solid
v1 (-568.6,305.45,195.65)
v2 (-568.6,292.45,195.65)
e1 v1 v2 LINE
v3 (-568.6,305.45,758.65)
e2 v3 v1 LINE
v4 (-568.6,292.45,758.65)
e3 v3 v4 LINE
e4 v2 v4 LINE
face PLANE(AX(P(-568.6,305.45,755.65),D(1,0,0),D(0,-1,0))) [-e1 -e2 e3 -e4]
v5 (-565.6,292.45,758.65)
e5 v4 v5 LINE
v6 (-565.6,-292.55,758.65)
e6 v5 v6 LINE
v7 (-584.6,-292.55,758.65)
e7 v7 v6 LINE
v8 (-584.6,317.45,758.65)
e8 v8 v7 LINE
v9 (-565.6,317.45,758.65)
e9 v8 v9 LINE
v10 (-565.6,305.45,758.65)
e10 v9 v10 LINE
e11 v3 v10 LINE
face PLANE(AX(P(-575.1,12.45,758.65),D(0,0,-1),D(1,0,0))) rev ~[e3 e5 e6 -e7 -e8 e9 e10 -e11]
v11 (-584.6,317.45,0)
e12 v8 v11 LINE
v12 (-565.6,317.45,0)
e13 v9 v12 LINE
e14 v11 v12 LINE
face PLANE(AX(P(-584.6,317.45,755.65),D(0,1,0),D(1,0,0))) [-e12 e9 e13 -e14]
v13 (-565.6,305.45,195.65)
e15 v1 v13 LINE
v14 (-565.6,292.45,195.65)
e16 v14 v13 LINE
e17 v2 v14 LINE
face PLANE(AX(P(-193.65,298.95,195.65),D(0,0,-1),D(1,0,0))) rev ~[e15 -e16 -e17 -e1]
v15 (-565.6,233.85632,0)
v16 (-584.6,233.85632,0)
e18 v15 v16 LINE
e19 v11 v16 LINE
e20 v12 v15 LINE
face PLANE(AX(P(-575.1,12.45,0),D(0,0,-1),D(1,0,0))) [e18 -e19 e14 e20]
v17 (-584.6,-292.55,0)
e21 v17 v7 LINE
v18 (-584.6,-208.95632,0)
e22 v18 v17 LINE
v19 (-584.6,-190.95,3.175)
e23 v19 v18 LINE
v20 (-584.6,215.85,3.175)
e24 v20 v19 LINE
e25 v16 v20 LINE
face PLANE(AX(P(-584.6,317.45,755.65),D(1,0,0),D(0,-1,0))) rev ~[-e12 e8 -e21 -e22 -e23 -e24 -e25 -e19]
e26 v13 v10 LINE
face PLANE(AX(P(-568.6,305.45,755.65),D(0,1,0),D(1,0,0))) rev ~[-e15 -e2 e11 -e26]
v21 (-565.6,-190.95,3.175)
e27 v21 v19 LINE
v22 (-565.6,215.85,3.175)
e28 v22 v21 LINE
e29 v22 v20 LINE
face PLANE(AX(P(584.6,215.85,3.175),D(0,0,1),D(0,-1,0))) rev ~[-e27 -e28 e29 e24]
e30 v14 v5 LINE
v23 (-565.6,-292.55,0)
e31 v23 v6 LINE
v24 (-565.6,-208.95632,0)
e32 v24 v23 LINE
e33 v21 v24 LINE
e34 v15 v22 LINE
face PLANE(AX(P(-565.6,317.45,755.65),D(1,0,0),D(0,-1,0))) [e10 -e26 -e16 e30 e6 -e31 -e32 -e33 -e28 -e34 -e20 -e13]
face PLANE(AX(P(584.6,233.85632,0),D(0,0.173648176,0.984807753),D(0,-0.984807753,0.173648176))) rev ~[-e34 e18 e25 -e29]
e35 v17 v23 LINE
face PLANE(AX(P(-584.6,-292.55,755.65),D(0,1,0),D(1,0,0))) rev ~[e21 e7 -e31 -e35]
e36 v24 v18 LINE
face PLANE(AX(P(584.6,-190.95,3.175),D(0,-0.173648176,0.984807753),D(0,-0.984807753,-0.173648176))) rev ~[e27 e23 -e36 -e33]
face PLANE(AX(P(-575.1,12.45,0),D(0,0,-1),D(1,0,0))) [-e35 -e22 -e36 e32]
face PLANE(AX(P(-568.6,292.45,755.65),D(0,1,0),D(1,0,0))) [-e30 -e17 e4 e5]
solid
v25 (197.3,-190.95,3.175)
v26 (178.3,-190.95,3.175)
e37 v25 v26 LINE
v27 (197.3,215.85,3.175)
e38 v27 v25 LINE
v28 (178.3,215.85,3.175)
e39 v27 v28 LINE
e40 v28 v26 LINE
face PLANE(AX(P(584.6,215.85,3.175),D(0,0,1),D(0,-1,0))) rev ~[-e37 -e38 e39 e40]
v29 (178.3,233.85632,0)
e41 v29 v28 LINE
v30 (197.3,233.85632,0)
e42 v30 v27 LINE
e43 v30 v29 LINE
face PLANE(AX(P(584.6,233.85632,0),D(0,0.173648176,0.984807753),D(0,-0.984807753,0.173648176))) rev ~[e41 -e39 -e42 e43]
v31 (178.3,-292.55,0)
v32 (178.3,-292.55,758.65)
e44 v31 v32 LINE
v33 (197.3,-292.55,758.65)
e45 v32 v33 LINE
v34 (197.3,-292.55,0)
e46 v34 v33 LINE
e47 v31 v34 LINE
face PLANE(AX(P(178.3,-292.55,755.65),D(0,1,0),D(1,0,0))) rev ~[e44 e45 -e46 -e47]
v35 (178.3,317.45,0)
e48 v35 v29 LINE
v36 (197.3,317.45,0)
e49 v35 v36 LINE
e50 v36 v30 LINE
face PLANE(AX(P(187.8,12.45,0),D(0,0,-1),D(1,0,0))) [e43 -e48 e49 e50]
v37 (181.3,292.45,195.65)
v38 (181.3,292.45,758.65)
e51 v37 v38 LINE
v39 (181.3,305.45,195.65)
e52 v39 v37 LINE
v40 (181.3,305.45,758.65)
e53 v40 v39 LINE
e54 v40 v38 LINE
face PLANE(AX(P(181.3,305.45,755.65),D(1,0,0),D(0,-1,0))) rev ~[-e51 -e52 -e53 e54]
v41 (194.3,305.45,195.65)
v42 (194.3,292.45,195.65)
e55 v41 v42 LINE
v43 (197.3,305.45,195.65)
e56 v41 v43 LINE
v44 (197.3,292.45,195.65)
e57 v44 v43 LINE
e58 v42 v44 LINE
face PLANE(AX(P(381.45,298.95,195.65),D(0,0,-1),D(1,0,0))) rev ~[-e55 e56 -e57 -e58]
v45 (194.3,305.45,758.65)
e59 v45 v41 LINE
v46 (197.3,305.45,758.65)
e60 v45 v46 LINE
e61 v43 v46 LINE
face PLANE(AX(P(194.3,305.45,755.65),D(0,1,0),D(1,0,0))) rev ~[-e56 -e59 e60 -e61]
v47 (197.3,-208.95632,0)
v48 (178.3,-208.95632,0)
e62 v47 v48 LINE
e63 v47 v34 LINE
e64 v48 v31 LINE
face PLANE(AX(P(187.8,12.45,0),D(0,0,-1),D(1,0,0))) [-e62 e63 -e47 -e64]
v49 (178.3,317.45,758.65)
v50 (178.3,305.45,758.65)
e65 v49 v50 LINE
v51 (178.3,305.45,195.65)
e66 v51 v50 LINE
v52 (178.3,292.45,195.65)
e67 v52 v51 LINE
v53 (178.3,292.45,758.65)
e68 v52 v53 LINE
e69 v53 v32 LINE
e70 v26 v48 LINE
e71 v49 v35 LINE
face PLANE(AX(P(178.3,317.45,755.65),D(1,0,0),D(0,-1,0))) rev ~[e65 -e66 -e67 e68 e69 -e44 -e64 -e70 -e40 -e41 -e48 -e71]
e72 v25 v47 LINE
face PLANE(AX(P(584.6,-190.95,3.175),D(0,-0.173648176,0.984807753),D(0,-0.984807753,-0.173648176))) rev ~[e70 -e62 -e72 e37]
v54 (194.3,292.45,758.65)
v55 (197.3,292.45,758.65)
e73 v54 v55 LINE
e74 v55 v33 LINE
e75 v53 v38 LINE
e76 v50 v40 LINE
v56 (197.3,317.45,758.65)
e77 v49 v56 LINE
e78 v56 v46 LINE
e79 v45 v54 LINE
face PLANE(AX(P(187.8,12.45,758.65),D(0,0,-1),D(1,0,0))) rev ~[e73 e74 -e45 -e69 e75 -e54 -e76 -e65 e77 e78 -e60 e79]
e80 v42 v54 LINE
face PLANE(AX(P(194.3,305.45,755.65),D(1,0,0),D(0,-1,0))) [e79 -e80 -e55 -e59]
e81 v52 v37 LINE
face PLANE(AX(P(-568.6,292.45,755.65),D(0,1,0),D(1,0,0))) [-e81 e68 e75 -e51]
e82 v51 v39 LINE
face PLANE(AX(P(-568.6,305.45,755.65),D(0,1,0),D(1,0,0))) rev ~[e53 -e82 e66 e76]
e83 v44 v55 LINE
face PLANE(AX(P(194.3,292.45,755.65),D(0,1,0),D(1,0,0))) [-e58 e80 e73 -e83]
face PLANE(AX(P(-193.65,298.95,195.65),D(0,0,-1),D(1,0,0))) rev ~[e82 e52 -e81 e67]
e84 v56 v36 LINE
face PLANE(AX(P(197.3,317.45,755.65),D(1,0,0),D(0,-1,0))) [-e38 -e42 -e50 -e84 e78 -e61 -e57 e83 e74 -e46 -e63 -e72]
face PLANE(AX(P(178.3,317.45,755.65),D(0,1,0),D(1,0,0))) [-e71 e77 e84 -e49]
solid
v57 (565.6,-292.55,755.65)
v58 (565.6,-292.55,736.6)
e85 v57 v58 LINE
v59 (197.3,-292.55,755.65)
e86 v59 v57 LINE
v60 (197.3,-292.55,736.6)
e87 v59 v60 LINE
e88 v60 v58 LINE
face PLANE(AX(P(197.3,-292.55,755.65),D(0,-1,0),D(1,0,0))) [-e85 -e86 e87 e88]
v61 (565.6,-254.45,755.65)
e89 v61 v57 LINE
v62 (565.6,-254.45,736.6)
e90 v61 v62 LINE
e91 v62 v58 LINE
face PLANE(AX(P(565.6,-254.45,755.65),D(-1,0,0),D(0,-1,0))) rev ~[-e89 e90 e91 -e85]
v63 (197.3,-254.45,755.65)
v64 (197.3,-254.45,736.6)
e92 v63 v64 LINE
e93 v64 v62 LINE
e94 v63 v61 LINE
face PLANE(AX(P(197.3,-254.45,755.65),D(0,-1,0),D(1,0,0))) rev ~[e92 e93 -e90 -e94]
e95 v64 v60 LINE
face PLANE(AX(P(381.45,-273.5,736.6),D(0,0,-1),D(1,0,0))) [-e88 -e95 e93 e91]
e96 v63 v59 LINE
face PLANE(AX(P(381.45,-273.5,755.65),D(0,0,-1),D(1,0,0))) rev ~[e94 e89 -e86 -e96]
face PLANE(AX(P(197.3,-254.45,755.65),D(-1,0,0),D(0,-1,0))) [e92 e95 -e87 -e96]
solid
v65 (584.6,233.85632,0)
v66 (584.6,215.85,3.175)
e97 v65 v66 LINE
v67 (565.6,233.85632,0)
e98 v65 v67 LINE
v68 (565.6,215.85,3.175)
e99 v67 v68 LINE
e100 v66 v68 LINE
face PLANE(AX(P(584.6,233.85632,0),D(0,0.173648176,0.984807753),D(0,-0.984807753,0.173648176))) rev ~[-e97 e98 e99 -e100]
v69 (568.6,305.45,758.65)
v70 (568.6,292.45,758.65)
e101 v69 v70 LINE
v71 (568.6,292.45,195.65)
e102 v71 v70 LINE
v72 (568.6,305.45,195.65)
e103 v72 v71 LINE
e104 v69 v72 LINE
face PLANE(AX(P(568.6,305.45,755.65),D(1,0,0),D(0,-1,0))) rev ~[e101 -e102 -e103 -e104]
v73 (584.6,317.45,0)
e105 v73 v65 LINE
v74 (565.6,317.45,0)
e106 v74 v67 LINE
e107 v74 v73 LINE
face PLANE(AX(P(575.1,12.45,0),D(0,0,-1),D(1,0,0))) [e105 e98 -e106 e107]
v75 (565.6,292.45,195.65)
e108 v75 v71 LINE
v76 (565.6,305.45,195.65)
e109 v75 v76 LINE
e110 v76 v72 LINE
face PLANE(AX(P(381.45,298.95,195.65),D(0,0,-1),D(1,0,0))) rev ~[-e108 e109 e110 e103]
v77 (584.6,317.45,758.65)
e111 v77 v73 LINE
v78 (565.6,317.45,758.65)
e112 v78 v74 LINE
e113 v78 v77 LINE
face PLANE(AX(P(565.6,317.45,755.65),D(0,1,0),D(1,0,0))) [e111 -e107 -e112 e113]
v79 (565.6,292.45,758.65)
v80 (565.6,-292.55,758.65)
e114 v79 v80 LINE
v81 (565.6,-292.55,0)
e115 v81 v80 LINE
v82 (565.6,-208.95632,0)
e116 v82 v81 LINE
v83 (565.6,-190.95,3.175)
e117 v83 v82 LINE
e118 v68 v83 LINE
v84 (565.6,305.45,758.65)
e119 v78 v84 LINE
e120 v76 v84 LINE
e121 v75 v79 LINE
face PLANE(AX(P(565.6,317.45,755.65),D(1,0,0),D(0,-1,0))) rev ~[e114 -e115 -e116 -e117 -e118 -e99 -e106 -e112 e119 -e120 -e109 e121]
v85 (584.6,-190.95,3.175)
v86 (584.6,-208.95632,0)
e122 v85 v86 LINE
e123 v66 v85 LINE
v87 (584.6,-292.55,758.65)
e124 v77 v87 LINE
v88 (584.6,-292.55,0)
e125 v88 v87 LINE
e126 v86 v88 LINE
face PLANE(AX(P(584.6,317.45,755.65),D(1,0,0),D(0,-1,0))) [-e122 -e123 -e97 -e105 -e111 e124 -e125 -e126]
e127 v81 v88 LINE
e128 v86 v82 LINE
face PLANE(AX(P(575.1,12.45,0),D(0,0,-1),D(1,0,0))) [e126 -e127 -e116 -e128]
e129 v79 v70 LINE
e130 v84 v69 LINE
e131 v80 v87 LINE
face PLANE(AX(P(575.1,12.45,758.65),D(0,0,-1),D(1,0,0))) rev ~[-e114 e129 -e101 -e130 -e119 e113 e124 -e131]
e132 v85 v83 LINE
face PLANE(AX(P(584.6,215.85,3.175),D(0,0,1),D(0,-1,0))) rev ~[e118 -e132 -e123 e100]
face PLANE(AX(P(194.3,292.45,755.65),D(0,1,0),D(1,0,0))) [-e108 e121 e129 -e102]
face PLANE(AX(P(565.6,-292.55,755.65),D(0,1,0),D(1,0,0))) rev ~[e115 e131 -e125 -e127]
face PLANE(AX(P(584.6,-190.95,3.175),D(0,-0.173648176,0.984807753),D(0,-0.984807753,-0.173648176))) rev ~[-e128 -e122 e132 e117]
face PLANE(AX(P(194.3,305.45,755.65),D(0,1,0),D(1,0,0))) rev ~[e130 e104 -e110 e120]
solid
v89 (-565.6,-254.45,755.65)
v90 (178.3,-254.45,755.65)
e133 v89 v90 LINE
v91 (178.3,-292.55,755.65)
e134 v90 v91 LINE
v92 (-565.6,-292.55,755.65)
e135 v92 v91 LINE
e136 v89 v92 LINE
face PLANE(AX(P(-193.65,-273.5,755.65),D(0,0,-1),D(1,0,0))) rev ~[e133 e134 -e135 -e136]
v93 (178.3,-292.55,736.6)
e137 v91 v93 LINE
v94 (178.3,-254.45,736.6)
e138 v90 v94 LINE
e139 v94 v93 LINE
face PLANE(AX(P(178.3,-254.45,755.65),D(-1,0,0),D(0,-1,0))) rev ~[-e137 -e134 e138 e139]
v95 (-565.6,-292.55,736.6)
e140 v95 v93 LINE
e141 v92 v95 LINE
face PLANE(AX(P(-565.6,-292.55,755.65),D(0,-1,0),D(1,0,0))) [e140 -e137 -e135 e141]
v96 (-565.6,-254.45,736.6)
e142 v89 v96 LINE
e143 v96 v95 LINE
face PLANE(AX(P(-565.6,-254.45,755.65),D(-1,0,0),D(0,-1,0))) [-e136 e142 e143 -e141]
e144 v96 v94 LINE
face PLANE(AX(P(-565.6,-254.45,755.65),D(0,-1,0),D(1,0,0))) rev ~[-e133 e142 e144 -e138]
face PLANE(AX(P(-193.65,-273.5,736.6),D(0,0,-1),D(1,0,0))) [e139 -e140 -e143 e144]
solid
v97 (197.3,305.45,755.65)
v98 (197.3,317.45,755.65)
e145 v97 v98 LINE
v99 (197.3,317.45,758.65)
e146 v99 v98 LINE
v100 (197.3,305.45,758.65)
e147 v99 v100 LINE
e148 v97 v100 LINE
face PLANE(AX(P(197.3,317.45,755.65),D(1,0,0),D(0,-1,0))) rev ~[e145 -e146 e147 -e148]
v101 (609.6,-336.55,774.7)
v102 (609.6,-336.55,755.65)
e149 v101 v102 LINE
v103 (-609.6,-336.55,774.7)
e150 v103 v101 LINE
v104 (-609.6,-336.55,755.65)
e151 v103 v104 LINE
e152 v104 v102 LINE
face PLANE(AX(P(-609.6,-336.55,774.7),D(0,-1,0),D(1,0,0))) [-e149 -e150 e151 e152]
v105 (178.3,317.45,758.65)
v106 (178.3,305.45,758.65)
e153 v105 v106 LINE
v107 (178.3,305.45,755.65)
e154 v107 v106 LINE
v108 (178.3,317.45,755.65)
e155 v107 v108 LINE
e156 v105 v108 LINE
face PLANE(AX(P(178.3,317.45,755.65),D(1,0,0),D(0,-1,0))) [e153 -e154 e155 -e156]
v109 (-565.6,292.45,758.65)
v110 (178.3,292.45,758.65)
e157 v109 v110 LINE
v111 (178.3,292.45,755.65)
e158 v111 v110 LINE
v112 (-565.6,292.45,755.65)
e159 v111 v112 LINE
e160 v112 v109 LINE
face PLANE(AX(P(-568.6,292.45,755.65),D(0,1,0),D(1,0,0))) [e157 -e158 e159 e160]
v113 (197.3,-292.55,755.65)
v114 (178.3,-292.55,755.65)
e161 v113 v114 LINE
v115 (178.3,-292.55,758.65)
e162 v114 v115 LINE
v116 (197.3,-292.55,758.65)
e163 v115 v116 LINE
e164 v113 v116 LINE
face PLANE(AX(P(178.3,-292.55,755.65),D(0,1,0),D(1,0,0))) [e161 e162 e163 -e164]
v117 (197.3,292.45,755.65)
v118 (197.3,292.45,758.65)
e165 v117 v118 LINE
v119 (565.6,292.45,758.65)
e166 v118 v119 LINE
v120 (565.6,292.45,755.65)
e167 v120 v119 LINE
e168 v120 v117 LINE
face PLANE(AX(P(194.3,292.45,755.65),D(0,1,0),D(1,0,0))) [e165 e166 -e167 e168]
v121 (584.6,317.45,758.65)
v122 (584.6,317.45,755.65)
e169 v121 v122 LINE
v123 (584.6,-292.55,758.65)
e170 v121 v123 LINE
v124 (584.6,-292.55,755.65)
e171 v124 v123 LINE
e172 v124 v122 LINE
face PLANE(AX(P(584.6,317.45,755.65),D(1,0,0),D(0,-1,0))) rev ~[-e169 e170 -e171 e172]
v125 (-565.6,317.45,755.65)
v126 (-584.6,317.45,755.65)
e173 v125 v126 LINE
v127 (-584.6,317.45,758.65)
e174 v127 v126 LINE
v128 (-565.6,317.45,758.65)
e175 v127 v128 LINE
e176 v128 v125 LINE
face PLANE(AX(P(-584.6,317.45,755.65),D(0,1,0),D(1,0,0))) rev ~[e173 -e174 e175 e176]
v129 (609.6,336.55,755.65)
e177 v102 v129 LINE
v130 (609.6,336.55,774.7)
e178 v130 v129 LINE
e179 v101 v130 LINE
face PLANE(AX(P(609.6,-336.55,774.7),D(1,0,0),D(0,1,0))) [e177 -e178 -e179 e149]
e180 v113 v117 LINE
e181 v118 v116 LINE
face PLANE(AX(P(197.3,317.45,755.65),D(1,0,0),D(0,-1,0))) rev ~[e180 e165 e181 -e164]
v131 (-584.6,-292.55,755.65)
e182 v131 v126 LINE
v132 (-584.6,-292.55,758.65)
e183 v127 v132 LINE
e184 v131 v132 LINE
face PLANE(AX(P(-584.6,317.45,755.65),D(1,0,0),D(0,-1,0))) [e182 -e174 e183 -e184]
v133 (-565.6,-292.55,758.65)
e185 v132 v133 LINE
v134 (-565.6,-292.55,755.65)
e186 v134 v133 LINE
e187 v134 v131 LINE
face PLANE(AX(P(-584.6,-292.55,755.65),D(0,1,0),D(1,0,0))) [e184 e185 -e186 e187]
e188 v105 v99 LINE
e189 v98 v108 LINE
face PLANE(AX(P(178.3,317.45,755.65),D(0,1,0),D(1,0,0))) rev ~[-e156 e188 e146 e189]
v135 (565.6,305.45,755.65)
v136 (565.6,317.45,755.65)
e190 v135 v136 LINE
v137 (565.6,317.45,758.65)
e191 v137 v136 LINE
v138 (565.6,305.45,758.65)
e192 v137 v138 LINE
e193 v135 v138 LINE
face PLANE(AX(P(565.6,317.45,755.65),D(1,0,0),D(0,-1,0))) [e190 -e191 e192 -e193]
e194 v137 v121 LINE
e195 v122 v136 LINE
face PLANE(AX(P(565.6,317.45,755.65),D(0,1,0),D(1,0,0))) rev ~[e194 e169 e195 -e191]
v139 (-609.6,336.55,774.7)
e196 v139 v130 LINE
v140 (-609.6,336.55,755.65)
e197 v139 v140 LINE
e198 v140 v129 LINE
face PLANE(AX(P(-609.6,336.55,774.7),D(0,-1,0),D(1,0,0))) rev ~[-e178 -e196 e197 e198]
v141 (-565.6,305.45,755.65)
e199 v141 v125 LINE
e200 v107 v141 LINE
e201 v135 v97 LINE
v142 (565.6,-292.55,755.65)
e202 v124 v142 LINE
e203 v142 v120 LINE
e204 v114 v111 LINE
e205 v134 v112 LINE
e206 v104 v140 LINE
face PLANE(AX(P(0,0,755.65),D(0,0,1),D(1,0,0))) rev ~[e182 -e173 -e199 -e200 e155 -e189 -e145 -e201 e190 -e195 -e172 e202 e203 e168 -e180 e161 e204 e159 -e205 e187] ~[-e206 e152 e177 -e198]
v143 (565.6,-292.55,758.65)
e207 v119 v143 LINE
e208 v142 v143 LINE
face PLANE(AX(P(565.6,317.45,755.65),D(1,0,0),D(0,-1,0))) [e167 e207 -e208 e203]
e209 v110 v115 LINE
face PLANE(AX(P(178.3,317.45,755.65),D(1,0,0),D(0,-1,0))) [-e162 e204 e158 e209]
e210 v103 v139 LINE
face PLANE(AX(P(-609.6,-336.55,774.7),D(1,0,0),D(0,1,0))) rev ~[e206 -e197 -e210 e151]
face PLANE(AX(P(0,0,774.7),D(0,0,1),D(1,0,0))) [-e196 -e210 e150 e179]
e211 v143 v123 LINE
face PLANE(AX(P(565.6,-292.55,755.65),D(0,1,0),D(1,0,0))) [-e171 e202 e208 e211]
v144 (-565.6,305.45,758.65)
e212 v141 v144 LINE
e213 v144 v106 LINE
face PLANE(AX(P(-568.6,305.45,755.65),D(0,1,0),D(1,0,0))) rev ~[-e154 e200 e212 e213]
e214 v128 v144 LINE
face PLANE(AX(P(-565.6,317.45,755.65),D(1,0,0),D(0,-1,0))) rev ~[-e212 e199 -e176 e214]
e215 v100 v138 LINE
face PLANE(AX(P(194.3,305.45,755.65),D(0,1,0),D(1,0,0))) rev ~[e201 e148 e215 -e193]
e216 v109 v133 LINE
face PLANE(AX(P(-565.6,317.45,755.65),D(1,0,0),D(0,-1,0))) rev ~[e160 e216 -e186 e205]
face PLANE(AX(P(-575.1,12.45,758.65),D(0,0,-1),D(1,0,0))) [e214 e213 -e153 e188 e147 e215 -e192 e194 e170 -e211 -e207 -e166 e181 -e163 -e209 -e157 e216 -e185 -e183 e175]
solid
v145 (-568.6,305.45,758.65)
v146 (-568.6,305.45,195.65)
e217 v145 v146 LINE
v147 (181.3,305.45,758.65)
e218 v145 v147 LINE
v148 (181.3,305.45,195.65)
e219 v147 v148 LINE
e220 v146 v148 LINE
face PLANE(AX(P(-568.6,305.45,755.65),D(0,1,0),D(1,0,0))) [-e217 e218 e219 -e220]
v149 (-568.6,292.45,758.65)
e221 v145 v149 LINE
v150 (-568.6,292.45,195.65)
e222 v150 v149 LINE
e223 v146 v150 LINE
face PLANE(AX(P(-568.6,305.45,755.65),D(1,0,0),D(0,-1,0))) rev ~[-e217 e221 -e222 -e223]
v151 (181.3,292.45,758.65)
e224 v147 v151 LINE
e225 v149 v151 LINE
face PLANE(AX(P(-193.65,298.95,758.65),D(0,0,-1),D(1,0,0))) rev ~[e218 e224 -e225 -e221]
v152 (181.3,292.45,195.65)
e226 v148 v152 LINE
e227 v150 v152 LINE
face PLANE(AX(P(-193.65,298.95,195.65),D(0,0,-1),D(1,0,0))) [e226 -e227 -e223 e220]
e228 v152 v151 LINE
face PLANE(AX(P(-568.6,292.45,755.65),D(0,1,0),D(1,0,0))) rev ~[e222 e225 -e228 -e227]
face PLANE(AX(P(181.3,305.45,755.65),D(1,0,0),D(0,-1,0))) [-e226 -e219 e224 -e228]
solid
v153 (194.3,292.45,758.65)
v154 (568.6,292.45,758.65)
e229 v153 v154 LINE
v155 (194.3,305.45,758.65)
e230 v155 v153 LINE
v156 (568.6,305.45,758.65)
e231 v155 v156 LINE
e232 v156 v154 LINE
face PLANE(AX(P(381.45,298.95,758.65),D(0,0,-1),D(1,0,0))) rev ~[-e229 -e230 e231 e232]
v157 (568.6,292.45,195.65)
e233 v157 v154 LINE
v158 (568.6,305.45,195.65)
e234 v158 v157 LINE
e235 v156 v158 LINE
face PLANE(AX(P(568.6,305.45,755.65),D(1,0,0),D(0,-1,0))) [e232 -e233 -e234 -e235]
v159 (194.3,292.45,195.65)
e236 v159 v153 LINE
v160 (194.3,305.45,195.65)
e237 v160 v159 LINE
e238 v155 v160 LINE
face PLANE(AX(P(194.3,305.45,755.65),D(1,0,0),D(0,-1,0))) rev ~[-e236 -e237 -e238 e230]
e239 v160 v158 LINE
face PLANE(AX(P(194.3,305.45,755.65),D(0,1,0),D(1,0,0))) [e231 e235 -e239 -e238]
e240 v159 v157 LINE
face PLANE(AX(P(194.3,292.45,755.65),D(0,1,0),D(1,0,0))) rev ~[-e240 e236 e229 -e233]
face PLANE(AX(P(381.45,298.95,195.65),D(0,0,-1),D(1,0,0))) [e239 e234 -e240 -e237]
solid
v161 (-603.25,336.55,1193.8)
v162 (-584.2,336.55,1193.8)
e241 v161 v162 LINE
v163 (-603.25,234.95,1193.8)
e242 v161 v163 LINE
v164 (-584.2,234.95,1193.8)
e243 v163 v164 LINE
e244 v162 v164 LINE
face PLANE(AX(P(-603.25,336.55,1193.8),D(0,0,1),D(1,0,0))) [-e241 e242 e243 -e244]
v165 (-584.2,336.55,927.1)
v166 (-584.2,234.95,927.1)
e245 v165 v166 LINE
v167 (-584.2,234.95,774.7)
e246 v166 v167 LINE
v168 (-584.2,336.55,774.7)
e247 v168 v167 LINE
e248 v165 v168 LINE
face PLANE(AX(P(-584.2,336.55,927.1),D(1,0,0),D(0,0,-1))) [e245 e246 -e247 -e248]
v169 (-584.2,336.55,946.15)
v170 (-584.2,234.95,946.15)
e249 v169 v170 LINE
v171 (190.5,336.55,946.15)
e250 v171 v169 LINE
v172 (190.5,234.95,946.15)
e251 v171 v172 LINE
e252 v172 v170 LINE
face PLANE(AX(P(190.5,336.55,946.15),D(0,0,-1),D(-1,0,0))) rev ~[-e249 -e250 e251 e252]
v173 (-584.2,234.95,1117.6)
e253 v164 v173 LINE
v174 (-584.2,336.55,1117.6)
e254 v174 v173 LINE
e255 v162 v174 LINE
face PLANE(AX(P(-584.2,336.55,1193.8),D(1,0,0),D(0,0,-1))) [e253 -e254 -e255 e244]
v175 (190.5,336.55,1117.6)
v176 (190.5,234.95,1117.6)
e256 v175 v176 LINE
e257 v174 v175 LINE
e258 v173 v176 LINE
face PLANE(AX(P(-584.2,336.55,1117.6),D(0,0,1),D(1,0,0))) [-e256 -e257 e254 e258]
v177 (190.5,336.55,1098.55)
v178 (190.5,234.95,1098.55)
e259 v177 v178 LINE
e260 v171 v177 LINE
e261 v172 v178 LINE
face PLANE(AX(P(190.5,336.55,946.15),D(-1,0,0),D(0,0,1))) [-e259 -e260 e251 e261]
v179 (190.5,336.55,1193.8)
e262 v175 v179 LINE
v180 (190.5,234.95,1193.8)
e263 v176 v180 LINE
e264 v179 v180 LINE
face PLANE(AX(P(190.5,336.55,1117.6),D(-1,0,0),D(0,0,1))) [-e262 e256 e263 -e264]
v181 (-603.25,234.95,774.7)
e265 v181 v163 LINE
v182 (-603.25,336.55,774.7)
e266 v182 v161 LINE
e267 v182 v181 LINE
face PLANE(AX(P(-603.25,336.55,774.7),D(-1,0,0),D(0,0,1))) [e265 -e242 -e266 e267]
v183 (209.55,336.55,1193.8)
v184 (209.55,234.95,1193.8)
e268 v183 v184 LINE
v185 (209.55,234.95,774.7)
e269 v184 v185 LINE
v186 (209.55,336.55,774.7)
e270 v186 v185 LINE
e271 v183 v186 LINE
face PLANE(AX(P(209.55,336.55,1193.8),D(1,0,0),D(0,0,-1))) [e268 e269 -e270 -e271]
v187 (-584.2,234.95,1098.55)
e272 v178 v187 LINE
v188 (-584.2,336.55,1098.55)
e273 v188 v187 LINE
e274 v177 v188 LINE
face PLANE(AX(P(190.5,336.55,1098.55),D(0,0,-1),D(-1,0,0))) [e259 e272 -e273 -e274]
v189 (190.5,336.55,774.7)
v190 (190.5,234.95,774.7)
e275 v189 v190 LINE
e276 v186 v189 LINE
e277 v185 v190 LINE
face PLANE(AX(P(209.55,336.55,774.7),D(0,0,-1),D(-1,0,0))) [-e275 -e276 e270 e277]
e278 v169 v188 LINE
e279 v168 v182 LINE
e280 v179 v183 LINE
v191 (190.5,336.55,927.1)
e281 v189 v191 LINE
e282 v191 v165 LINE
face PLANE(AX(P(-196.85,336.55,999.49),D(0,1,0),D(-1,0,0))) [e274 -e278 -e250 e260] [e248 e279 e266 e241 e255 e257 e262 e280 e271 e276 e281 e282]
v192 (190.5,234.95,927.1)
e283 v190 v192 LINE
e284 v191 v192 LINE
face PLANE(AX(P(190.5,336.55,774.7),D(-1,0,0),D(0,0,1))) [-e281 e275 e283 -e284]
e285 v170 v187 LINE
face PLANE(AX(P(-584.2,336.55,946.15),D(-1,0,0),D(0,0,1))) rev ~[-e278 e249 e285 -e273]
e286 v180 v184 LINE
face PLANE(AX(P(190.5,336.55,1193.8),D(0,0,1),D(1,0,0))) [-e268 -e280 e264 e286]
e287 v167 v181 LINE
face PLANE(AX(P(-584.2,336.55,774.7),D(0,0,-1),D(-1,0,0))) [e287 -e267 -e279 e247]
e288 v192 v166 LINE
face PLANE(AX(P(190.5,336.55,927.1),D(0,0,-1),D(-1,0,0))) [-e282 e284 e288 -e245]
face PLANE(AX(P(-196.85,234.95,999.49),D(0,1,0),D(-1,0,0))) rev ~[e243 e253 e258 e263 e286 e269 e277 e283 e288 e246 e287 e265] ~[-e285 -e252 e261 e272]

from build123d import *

# Parameters (mm, degrees)
F1_W          = 1219.2
F1_H          = 673.1
F2_DEPTH      = 19.05
F3_W          = 19
F3_H          = 610
F4_DEPTH      = 755.65
F4_DEPTH_BACK = 3
F5_W          = 749.9
F5_H          = 13
F5_W_2        = 374.3
F6_DEPTH      = 560
F6_DEPTH_BACK = 3
F9_W          = 743.9
F9_H          = 38.1
F9_W_2        = 368.3
F10_DEPTH     = 19.05
F11_W         = 774.7
F11_H         = 152.4
F12_DEPTH     = 101.6
F14_DEPTH     = 1194.201


with BuildPart() as f2:
    # F1 (on offset) → F2 (new body)
    with BuildSketch(Plane.XY.offset(774.7)):
        Rectangle(F1_W, F1_H)
    extrude(amount=-F2_DEPTH)


with BuildPart() as f4:
    # F3 (on face) → F4 (new body, two sides)
    with BuildSketch(Plane(origin=(0, 0, 755.65), x_dir=(1, 0, 0), z_dir=(0, 0, -1))) as f4_sk:
        with Locations((-575.1, -12.45)):
            Rectangle(F3_W, F3_H)
        with Locations((187.8, -12.45)):
            Rectangle(F3_W, F3_H)
        with Locations((575.1, -12.45)):
            Rectangle(F3_W, F3_H)
    extrude(amount=F4_DEPTH)
    extrude(f4_sk.sketch, amount=-F4_DEPTH_BACK)


with BuildPart() as f6:
    # F5 (on face) → F6 (new body, two sides)
    with BuildSketch(Plane(origin=(0, 0, 755.65), x_dir=(1, 0, 0), z_dir=(0, 0, -1))) as f6_sk:
        with Locations((-193.65, -298.95)):
            Rectangle(F5_W, F5_H)
        with Locations((381.45, -298.95)):
            Rectangle(F5_W_2, F5_H)
    extrude(amount=F6_DEPTH)
    extrude(f6_sk.sketch, amount=-F6_DEPTH_BACK)


with BuildPart() as f2_1:
    add(f2.part)

    # F7: cut F4, F6
    add(f4.part, mode=Mode.SUBTRACT)
    add(f6.part, mode=Mode.SUBTRACT)


with BuildPart() as f4_1:
    add(f4.part)

    # F8: cut F6
    add(f6.part, mode=Mode.SUBTRACT)

    # F13 (on face) → F14 (cut, through all)
    with BuildSketch(Plane.YZ.offset(584.6)):
        Polygon((215.85, 3.175), (-190.95, 3.175), (-208.95632, 0), (233.85632, 0), align=None)
    extrude(amount=-F14_DEPTH, mode=Mode.SUBTRACT)


with BuildPart() as f10:
    # F9 (on face) → F10 (new body)
    with BuildSketch(Plane(origin=(0, 0, 755.65), x_dir=(1, 0, 0), z_dir=(0, 0, -1))):
        with Locations((-193.65, 273.5)):
            Rectangle(F9_W, F9_H)
        with Locations((381.45, 273.5)):
            Rectangle(F9_W_2, F9_H)
    extrude(amount=F10_DEPTH)


with BuildPart() as f12:
    # F11 (on face) → F12 (new body)
    with BuildSketch(Plane(origin=(0, 336.55, 0), x_dir=(-1, 0, 0), z_dir=(0, 1, 0))):
        Polygon((584.2, 774.7), (603.25, 774.7), (603.25, 1117.6), (603.25, 1193.8), (584.2, 1193.8), (584.2, 1117.6), (-190.5, 1117.6), (-190.5, 1193.8), (-209.55, 1193.8), (-209.55, 1117.6), (-209.55, 774.7), (-190.5, 774.7), (-190.5, 927.1), (584.2, 927.1), align=None)
        with Locations((196.85, 1022.35)):
            Rectangle(F11_W, F11_H, mode=Mode.SUBTRACT)
    extrude(amount=-F12_DEPTH)


solid = Compound([f6.part, f2_1.part, f4_1.part, f10.part, f12.part])
